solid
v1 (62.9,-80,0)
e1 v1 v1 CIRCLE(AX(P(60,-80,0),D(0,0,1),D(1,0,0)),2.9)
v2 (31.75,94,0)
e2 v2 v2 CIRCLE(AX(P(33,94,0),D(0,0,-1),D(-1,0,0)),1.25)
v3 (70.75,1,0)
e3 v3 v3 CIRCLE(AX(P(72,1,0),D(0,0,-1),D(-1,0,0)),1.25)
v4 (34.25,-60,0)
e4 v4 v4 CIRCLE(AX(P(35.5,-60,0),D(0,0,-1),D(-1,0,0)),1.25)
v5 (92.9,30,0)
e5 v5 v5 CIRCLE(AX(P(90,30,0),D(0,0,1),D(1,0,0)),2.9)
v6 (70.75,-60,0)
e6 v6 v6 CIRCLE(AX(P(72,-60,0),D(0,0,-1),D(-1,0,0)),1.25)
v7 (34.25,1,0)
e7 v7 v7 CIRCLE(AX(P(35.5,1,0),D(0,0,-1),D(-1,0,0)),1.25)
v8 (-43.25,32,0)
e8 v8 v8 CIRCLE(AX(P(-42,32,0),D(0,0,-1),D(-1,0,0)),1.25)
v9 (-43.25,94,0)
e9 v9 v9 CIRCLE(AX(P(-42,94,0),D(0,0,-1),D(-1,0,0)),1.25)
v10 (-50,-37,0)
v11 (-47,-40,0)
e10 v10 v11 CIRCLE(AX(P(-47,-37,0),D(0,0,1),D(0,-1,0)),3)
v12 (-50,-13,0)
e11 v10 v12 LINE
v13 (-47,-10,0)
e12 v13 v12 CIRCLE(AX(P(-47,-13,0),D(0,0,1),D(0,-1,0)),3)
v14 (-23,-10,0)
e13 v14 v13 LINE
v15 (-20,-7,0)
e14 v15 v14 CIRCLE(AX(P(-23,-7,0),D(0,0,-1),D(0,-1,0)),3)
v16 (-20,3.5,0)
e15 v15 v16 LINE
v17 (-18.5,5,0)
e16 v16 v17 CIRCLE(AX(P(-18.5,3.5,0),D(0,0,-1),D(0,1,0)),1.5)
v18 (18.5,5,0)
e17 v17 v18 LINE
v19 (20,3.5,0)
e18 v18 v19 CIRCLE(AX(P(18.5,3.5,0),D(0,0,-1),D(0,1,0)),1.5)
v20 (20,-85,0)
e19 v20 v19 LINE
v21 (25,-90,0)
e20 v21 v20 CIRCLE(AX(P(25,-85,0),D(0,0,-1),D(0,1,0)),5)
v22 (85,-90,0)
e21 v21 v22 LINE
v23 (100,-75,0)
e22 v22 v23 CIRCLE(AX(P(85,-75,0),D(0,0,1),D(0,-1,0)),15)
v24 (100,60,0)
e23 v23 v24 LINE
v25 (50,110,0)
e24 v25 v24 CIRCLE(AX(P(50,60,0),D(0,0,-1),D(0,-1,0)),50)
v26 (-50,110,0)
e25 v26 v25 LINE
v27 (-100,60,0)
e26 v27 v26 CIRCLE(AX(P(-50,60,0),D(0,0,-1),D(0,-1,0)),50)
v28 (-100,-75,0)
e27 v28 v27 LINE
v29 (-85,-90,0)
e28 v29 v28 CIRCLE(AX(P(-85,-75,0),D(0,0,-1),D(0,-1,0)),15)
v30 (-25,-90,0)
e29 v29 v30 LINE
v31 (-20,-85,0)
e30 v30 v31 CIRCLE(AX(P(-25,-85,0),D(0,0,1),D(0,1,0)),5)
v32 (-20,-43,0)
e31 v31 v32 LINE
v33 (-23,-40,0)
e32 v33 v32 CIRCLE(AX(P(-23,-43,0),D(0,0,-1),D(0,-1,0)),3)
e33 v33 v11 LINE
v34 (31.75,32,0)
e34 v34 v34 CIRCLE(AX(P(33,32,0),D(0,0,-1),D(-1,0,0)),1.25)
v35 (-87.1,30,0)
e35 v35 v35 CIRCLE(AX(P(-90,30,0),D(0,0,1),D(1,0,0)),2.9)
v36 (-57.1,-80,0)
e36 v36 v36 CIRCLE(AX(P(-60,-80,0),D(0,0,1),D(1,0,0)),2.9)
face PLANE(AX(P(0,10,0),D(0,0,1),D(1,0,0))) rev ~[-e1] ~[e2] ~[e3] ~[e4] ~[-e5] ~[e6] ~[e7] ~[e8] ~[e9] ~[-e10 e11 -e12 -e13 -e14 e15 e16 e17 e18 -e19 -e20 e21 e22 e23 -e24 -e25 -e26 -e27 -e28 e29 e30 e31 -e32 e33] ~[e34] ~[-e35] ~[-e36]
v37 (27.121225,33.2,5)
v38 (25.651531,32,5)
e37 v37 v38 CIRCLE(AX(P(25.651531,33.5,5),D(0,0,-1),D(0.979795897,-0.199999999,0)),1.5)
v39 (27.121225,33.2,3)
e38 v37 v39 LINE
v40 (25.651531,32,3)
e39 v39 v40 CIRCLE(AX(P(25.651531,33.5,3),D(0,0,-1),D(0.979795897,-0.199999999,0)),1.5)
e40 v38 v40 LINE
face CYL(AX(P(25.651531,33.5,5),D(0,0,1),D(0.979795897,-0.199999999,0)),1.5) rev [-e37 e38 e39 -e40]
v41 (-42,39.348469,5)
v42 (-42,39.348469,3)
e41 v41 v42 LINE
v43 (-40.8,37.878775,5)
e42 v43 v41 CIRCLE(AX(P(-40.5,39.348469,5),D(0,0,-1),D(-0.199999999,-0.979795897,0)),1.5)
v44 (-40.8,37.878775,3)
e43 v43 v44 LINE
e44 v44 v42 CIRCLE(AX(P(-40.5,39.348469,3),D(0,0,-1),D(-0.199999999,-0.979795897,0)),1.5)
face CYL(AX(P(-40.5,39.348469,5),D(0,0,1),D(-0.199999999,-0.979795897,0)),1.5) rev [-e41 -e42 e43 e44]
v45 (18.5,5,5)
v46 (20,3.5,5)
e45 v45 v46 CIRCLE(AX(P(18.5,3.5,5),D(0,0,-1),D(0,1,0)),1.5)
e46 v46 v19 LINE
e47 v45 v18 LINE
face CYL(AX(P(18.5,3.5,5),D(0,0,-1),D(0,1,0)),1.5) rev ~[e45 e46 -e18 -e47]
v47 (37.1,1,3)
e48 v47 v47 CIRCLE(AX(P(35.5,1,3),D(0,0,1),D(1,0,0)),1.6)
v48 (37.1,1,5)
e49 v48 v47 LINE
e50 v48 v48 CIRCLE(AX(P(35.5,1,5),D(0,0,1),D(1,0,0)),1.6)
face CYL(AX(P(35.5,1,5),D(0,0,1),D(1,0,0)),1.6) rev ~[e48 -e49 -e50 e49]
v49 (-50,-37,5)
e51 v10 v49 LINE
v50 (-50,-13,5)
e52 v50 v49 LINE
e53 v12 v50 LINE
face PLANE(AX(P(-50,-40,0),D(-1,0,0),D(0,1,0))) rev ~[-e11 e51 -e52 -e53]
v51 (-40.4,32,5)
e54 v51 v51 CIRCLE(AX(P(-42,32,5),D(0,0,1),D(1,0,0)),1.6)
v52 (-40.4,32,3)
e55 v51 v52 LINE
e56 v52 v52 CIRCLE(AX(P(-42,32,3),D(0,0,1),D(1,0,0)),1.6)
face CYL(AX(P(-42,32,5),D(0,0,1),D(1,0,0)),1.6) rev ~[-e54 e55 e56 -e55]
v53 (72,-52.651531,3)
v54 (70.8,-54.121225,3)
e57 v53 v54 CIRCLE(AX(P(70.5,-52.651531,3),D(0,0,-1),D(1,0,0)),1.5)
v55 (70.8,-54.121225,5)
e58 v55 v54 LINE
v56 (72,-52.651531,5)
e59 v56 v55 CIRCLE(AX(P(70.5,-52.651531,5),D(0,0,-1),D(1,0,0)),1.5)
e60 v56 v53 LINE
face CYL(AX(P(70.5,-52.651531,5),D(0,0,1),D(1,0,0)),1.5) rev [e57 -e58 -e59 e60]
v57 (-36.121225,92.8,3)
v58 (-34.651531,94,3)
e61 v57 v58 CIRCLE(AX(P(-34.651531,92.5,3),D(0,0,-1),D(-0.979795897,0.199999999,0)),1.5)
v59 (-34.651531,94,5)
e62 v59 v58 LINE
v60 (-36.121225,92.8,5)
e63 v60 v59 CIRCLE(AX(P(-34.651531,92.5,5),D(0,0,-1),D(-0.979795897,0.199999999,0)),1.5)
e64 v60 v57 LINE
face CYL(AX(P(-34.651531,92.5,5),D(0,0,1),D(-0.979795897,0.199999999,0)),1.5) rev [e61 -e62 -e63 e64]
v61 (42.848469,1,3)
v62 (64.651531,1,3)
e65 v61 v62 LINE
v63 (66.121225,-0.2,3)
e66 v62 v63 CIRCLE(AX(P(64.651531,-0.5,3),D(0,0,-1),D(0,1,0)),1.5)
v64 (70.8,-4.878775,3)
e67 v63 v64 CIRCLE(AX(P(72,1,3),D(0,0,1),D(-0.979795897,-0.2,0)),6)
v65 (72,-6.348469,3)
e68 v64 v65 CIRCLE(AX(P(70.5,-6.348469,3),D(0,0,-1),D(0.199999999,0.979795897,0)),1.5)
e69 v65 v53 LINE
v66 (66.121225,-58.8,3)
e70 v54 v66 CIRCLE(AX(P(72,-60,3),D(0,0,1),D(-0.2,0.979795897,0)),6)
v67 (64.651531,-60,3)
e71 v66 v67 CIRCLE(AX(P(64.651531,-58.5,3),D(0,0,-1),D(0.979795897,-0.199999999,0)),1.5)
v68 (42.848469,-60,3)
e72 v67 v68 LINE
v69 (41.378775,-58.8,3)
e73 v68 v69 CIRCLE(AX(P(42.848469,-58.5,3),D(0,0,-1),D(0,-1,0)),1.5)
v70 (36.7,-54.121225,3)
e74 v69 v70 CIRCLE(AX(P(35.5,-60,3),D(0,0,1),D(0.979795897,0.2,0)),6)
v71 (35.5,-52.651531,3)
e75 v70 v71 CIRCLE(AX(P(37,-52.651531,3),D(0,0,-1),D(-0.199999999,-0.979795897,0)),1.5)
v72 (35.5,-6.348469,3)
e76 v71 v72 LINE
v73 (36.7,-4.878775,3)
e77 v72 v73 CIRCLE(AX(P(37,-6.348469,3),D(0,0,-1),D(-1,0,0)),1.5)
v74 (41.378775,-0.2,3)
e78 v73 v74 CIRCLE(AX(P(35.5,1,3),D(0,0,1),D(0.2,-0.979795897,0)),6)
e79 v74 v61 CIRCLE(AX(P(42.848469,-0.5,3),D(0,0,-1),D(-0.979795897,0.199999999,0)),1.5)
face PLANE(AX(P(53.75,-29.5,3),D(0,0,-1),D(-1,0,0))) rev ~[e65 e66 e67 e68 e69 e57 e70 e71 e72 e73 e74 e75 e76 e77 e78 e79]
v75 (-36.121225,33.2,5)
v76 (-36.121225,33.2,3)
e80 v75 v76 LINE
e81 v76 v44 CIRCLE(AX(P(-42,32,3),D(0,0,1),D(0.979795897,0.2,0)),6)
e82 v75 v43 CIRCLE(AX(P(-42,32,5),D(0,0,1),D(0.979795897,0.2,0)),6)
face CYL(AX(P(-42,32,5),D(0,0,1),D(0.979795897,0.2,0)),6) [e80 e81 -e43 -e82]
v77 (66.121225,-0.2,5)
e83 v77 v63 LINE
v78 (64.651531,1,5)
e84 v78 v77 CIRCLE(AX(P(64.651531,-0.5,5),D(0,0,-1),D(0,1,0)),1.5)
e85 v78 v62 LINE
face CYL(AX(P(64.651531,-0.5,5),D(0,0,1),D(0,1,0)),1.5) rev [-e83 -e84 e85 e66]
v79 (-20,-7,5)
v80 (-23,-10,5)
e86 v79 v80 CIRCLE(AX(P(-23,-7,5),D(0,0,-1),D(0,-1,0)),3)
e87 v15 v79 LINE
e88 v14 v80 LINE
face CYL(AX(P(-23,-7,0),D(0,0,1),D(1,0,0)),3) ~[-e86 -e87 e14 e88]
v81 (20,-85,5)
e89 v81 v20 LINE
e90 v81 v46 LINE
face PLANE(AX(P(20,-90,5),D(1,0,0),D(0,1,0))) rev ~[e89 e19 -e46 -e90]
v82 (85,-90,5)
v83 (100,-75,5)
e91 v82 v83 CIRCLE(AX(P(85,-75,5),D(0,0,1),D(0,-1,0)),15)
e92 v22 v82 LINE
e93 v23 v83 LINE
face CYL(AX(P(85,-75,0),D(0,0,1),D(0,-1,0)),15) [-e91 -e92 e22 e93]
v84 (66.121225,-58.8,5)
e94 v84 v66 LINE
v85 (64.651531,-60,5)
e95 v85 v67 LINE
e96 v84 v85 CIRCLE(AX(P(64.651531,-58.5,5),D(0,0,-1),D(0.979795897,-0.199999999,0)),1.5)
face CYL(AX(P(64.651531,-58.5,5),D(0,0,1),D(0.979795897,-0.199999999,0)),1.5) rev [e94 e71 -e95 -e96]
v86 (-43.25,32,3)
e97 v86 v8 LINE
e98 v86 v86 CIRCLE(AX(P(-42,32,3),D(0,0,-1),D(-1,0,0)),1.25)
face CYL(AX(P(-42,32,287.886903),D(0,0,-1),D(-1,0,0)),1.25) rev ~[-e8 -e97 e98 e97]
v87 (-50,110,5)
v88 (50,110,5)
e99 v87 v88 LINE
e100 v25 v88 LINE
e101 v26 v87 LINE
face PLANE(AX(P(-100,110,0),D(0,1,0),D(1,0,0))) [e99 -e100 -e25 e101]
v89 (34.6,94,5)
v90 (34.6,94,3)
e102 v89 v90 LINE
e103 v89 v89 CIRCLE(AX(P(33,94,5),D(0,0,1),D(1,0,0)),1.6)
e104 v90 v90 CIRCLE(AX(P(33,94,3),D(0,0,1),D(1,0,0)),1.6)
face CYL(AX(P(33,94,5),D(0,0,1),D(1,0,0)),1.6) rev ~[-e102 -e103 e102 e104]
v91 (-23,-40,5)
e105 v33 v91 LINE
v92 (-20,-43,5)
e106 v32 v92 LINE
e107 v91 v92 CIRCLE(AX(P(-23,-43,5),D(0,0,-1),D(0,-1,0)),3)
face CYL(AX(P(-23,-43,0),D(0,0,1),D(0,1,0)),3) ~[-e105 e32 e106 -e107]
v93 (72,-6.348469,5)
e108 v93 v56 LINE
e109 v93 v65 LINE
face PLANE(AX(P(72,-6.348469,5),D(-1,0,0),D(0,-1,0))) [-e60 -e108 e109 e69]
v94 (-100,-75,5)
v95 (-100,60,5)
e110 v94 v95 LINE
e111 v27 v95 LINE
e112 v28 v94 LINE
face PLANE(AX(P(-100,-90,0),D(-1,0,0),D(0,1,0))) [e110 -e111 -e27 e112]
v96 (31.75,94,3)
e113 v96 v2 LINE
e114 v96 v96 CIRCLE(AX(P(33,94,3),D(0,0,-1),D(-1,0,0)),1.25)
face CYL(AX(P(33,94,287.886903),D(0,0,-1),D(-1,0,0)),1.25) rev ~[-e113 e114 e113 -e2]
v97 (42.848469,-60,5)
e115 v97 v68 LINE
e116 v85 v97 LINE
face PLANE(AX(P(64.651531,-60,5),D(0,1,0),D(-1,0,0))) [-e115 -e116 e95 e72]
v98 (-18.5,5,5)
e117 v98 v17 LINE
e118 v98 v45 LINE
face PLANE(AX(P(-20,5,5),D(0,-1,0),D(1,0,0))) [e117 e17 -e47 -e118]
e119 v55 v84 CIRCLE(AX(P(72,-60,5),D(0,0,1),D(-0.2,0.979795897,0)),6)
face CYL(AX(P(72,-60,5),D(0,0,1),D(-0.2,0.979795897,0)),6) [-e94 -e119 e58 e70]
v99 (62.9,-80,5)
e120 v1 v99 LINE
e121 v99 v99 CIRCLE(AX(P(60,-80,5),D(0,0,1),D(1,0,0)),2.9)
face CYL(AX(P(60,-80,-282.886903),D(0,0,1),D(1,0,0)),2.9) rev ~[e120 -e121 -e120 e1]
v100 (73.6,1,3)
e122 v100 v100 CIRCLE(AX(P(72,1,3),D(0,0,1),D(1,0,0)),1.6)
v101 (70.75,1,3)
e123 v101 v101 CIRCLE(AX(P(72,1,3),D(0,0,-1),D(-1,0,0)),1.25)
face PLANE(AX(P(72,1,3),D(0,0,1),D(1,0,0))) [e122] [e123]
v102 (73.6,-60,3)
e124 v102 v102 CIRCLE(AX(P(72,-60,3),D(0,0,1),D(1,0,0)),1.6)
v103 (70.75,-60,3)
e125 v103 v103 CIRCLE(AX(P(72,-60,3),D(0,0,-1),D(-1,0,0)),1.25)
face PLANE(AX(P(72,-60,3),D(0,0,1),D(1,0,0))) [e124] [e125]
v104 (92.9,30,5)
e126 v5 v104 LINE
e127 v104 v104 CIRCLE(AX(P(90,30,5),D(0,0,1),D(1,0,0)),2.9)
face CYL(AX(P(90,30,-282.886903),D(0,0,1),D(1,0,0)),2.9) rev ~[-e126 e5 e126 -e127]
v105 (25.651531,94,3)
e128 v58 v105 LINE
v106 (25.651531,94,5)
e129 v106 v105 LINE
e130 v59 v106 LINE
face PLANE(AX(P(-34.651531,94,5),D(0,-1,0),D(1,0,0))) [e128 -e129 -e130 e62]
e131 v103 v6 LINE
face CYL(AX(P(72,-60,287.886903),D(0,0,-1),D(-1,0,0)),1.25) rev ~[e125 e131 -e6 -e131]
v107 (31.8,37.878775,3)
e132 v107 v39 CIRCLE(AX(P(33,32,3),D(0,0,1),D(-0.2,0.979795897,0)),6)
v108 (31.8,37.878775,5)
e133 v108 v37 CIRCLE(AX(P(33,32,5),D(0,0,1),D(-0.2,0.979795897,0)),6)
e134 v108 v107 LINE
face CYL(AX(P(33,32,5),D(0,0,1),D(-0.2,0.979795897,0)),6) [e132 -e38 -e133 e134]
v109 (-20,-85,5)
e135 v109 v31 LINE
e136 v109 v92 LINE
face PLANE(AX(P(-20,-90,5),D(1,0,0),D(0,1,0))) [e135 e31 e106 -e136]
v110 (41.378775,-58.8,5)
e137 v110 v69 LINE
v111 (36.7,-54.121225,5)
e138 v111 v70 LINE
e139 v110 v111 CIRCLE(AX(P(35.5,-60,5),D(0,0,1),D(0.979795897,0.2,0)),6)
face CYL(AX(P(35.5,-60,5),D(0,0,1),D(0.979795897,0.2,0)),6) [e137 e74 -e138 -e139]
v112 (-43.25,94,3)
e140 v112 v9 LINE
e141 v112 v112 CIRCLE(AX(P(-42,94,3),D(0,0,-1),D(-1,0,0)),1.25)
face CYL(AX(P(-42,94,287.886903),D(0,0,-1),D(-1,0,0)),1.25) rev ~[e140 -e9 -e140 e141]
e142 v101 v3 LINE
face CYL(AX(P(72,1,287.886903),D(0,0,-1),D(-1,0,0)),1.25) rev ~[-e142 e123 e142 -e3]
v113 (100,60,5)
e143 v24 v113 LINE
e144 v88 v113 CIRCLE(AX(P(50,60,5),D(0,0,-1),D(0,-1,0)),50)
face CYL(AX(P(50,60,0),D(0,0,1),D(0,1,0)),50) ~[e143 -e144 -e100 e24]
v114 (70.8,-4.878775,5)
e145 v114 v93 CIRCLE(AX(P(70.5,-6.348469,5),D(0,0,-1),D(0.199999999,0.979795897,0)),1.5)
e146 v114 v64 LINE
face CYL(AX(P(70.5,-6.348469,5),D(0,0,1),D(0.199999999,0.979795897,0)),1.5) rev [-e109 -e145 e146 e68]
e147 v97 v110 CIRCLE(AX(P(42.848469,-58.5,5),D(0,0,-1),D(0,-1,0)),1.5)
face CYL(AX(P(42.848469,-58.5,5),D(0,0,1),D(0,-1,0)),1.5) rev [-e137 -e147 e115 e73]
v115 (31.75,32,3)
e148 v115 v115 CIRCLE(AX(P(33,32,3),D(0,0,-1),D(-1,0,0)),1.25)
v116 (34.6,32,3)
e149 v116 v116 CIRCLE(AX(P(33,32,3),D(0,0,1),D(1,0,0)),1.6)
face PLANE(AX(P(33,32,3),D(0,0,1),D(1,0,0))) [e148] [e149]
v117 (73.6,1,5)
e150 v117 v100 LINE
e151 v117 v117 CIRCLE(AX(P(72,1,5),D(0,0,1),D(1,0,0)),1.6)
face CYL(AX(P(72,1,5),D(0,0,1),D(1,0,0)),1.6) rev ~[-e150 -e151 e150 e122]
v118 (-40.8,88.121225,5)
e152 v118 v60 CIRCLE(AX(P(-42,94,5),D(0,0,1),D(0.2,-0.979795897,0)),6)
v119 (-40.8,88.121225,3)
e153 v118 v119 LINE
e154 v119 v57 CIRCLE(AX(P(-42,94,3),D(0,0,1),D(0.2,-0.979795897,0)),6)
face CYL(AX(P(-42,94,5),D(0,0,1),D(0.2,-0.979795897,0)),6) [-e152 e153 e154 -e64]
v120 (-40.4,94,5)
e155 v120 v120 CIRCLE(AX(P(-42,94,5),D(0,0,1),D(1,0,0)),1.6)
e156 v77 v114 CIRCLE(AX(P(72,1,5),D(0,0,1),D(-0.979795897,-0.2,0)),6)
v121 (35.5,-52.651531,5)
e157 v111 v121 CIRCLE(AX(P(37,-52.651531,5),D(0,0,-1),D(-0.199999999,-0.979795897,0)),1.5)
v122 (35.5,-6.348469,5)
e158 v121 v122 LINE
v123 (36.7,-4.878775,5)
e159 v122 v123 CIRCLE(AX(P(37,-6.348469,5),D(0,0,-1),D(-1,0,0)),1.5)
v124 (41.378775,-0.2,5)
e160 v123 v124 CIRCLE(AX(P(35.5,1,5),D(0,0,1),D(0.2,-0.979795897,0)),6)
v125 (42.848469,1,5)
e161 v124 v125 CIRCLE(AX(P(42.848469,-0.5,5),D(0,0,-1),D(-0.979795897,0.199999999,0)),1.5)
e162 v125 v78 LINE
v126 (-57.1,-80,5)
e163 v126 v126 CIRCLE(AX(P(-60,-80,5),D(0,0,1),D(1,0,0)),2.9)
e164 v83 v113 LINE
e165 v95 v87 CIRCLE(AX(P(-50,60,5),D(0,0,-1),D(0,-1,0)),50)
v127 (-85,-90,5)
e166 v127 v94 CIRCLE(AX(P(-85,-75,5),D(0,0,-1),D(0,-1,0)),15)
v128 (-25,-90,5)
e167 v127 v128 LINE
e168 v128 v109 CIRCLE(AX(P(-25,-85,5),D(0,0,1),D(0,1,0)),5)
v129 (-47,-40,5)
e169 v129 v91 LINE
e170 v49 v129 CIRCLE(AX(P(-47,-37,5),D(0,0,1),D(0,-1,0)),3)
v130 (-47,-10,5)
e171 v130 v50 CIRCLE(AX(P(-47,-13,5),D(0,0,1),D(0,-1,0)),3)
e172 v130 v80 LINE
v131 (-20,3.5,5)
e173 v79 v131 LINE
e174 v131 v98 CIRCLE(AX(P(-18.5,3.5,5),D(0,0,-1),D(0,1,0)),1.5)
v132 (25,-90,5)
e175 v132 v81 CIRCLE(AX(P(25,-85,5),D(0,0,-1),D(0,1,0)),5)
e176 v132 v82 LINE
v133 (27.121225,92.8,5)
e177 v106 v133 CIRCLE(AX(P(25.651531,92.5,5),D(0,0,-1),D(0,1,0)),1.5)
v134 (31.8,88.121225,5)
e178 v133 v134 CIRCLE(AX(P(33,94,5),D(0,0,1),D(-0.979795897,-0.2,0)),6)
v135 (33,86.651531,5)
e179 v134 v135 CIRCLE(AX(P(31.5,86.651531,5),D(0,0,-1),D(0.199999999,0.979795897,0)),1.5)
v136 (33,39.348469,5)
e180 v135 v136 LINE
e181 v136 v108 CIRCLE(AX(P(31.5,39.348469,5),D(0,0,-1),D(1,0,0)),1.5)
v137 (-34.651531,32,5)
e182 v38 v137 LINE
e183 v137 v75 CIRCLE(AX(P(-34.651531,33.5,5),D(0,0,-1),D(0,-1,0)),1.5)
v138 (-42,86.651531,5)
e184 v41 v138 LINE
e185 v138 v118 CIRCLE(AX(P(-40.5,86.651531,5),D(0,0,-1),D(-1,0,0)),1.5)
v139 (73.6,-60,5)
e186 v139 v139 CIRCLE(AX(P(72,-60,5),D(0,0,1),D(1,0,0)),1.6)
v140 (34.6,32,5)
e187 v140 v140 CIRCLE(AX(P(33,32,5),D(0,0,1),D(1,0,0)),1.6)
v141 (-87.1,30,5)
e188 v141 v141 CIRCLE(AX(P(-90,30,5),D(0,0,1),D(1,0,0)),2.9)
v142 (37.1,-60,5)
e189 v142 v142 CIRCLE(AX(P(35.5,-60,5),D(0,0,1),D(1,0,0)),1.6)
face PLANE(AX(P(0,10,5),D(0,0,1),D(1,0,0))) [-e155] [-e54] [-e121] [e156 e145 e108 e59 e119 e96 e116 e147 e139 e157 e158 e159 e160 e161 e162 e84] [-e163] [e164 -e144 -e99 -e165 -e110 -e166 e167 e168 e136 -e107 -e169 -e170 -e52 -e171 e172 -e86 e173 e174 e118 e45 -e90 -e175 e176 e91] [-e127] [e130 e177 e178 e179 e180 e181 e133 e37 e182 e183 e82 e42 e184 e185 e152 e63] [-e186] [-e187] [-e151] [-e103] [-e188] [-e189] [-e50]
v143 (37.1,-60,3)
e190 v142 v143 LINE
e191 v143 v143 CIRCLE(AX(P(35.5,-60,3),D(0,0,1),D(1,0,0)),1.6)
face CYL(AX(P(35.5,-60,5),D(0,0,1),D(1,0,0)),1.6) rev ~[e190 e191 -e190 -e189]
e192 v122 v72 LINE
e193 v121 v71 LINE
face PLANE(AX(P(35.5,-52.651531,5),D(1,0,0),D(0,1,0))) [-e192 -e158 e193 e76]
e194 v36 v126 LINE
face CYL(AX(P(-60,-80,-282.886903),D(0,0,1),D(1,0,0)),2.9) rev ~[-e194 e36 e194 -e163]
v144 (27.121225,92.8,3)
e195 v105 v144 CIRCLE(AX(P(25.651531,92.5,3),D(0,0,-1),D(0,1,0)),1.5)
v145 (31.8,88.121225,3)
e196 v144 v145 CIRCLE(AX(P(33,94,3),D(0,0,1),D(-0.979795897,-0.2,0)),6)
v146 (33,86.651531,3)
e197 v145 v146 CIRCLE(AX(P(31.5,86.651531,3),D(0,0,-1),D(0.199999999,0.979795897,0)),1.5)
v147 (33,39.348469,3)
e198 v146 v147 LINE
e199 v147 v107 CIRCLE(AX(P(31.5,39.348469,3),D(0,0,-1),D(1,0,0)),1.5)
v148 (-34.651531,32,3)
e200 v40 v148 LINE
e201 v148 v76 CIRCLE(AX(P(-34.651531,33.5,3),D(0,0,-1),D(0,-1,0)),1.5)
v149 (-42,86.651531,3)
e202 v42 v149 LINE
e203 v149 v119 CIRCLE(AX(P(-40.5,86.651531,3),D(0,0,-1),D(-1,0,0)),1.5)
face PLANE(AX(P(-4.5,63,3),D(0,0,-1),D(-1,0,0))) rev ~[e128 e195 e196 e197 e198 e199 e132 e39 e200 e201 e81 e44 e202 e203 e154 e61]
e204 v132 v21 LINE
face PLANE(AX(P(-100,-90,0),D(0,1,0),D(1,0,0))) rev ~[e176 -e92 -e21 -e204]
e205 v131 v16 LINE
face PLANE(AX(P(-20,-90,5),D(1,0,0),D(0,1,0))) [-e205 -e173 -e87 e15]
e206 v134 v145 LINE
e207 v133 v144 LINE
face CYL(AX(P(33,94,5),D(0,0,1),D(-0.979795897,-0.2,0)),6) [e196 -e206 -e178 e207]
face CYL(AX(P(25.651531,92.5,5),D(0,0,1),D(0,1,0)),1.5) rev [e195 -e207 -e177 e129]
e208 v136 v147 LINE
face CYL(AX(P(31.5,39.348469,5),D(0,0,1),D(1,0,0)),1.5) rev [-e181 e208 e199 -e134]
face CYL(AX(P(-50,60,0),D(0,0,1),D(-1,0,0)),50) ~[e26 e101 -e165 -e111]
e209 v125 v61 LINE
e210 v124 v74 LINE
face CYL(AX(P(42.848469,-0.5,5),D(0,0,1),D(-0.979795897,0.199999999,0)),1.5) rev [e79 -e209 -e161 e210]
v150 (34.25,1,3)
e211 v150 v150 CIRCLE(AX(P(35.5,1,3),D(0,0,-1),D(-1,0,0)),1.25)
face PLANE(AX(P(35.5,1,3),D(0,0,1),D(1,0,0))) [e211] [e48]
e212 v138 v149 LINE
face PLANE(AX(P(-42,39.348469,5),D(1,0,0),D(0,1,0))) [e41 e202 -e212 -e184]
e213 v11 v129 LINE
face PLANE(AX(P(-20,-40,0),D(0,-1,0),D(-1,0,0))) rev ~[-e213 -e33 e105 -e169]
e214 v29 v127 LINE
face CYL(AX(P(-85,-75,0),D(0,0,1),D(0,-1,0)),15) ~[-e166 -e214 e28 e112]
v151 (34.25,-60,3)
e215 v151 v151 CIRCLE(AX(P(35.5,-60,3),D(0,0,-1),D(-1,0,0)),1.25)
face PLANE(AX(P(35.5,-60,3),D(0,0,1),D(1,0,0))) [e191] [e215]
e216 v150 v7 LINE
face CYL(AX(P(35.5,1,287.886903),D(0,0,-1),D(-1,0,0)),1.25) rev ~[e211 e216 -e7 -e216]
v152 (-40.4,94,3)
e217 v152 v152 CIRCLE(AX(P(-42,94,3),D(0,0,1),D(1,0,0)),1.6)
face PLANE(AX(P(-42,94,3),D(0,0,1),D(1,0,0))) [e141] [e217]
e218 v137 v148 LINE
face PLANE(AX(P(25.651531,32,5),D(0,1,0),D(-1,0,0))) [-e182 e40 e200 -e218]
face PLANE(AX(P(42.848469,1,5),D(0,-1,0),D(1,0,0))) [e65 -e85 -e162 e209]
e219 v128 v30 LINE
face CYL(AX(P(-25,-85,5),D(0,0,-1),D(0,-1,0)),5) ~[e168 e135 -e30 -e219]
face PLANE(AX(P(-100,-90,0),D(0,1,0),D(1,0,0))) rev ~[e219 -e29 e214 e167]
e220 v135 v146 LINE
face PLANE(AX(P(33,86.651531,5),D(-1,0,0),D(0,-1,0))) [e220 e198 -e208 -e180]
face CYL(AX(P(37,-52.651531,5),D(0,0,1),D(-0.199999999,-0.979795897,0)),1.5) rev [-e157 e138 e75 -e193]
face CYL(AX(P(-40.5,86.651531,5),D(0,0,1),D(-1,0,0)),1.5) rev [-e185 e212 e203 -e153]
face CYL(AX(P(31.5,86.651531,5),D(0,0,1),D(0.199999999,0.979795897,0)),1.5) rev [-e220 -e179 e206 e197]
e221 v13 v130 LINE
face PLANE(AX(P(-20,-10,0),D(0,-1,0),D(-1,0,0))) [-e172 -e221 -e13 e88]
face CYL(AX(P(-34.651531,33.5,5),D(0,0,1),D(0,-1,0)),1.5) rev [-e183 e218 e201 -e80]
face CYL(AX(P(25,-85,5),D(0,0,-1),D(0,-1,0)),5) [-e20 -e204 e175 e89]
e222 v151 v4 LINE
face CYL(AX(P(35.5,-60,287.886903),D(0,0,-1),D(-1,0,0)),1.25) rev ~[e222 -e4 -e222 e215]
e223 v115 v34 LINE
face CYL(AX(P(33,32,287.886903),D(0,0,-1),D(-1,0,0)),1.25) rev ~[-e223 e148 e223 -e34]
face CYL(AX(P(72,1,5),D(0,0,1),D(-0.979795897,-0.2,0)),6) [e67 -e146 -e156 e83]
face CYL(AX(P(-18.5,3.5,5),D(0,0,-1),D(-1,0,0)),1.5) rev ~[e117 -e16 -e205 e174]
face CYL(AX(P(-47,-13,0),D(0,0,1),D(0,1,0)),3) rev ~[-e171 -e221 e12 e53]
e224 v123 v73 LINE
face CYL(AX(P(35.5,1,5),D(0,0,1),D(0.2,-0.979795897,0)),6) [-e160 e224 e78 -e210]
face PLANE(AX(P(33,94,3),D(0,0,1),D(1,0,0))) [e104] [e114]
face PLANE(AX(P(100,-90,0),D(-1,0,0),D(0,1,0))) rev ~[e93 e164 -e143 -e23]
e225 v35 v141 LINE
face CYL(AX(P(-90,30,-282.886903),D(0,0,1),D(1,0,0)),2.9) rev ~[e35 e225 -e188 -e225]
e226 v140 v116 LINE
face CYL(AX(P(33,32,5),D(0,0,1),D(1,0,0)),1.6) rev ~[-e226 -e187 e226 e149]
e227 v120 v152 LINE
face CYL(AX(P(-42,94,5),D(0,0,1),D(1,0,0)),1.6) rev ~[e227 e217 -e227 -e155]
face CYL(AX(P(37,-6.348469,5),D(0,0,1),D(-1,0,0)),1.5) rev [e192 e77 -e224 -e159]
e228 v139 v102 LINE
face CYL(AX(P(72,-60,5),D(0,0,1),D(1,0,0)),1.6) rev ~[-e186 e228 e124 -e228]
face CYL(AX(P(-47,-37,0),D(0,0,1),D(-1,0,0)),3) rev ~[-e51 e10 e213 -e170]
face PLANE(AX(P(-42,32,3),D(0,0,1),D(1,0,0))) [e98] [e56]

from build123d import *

# Parameters (mm, degrees)
SKETCH_1_W          = 200
SKETCH_1_H          = 200
EXTRUDE_1_DEPTH     = 5
SKETCH_2_W          = 40
SKETCH_2_H          = 95
CUT_EXTRUDE_1_DEPTH = 149.744747806
FILLET_1_R          = 50
FILLET_2_R          = 1.5
SKETCH_3_W          = 30
SKETCH_3_H          = 30
CUT_EXTRUDE_2_DEPTH = 10
FILLET_3_R          = 3
M3X0_5_2_D          = 2.5
M3X0_5_1_D          = 2.5
FILLET_4_R          = 15
FILLET_5_R          = 5
HOLE_WIZARD_M5_1_D  = 5.8
SKETCH_4_R          = 1.6
CUT_EXTRUDE_3_DEPTH = 2
SKETCH_7_R          = 1.6
CUT_EXTRUDE_4_DEPTH = 2


with BuildPart() as part:
    # ｽｹｯﾁ1 → ﾎﾞｽ - 押し出し1 (new body)
    with BuildSketch(Plane.XY):
        with Locations((0, 10)):
            Rectangle(SKETCH_1_W, SKETCH_1_H)
    extrude(amount=EXTRUDE_1_DEPTH)

    # ｽｹｯﾁ2 → ｶｯﾄ - 押し出し1 (cut, through all)
    with BuildSketch(Plane.XY.offset(5)):
        with Locations((0, -42.5)):
            Rectangle(SKETCH_2_W, SKETCH_2_H)
    extrude(amount=-CUT_EXTRUDE_1_DEPTH, mode=Mode.SUBTRACT)

    # ﾌｨﾚｯﾄ1
    fillet_1_edges = [part.edges().sort_by_distance(p)[0] for p in [
        (-100, 110, 2.5),
        (100, 110, 2.5),
    ]]
    fillet(fillet_1_edges, radius=FILLET_1_R)

    # ﾌｨﾚｯﾄ2
    fillet_2_edges = [part.edges().sort_by_distance(p)[0] for p in [
        (-20, 5, 2.5),
        (20, 5, 2.5),
    ]]
    fillet(fillet_2_edges, radius=FILLET_2_R)

    # ｽｹｯﾁ3 → ｶｯﾄ - 押し出し2 (cut)
    with BuildSketch(Plane(origin=(0, 0, 0), x_dir=(-1, 0, 0), z_dir=(0, 0, -1))):
        with Locations((35, -25)):
            Rectangle(SKETCH_3_W, SKETCH_3_H)
    extrude(amount=-CUT_EXTRUDE_2_DEPTH, mode=Mode.SUBTRACT)

    # ﾌｨﾚｯﾄ3
    fillet_3_edges = [part.edges().sort_by_distance(p)[0] for p in [
        (-20, -40, 2.5),
        (-20, -10, 2.5),
        (-50, -10, 2.5),
        (-50, -40, 2.5),
    ]]
    fillet(fillet_3_edges, radius=FILLET_3_R)

    # M3x0.5 ねじ穴用ねじ下穴ﾄﾞﾘﾙ2 (through all)
    with Locations(Plane.XY.offset(5)):
        with Locations((-42, 94), (33, 94), (-42, 32), (33, 32)):
            Hole(M3X0_5_2_D / 2)

    # M3x0.5 ねじ穴用ねじ下穴ﾄﾞﾘﾙ1 (through all)
    with Locations(Plane.XY.offset(5)):
        with Locations((35.5, 1), (72, 1), (35.5, -60), (72, -60)):
            Hole(M3X0_5_1_D / 2)

    # ﾌｨﾚｯﾄ4
    fillet_4_edges = [part.edges().sort_by_distance(p)[0] for p in [
        (100, -90, 2.5),
        (-100, -90, 2.5),
    ]]
    fillet(fillet_4_edges, radius=FILLET_4_R)

    # ﾌｨﾚｯﾄ5
    fillet_5_edges = [part.edges().sort_by_distance(p)[0] for p in [
        (-20, -90, 2.5),
        (20, -90, 2.5),
    ]]
    fillet(fillet_5_edges, radius=FILLET_5_R)

    # M5 すきま穴1 (through all)
    with Locations(Plane(origin=(0, 0, 0), x_dir=(-1, 0, 0), z_dir=(0, 0, -1))):
        with Locations((-60, -80), (60, -80), (-90, 30), (90, 30)):
            Hole(HOLE_WIZARD_M5_1_D / 2)

    # ｽｹｯﾁ4 → ｶｯﾄ - 押し出し3 (cut)
    with BuildSketch(Plane.XY.offset(5)):
        with Locations((-42, 94)):
            Circle(SKETCH_4_R)
        with Locations((33, 94)):
            Circle(SKETCH_4_R)
        with Locations((-42, 32)):
            Circle(SKETCH_4_R)
        with Locations((33, 32)):
            Circle(SKETCH_4_R)
        with BuildLine():
            Line((-34.651530772, 94), (25.651530772, 94))
            ThreePointArc((25.651530772, 94), (26.60021407, 93.661895004), (27.121224617, 92.8))
            ThreePointArc((27.121224617, 92.8), (28.757359313, 89.757359313), (31.8, 88.121224617))
            ThreePointArc((31.8, 88.121224617), (32.661895004, 87.60021407), (33, 86.651530772))
            Line((33, 86.651530772), (33, 39.348469228))
            ThreePointArc((33, 39.348469228), (32.661895004, 38.39978593), (31.8, 37.878775383))
            ThreePointArc((31.8, 37.878775383), (28.757359313, 36.242640687), (27.121224617, 33.2))
            ThreePointArc((27.121224617, 33.2), (26.60021407, 32.338104996), (25.651530772, 32))
            Line((25.651530772, 32), (-34.651530772, 32))
            ThreePointArc((-34.651530772, 32), (-35.60021407, 32.338104996), (-36.121224617, 33.2))
            ThreePointArc((-36.121224617, 33.2), (-37.757359313, 36.242640687), (-40.8, 37.878775383))
            ThreePointArc((-40.8, 37.878775383), (-41.661895004, 38.39978593), (-42, 39.348469228))
            Line((-42, 39.348469228), (-42, 86.651530772))
            ThreePointArc((-42, 86.651530772), (-41.661895004, 87.60021407), (-40.8, 88.121224617))
            ThreePointArc((-40.8, 88.121224617), (-37.757359313, 89.757359313), (-36.121224617, 92.8))
            ThreePointArc((-36.121224617, 92.8), (-35.60021407, 93.661895004), (-34.651530772, 94))
        make_face()
    extrude(amount=-CUT_EXTRUDE_3_DEPTH, mode=Mode.SUBTRACT)

    # ｽｹｯﾁ7 → ｶｯﾄ - 押し出し4 (cut)
    with BuildSketch(Plane.XY.offset(5)):
        with Locations((35.5, 1)):
            Circle(SKETCH_7_R)
        with Locations((72, 1)):
            Circle(SKETCH_7_R)
        with Locations((35.5, -60)):
            Circle(SKETCH_7_R)
        with Locations((72, -60)):
            Circle(SKETCH_7_R)
        with BuildLine():
            Line((64.651530772, -60), (42.848469228, -60))
            ThreePointArc((42.848469228, -60), (41.89978593, -59.661895004), (41.378775383, -58.8))
            ThreePointArc((41.378775383, -58.8), (39.742640687, -55.757359313), (36.7, -54.121224617))
            ThreePointArc((36.7, -54.121224617), (35.838104996, -53.60021407), (35.5, -52.651530772))
            Line((35.5, -52.651530772), (35.5, -6.348469228))
            ThreePointArc((35.5, -6.348469228), (35.838104996, -5.39978593), (36.7, -4.878775383))
            ThreePointArc((36.7, -4.878775383), (39.742640687, -3.242640687), (41.378775383, -0.2))
            ThreePointArc((41.378775383, -0.2), (41.89978593, 0.661895004), (42.848469228, 1))
            Line((42.848469228, 1), (64.651530772, 1))
            ThreePointArc((64.651530772, 1), (65.60021407, 0.661895004), (66.121224617, -0.2))
            ThreePointArc((66.121224617, -0.2), (67.757359313, -3.242640687), (70.8, -4.878775383))
            ThreePointArc((70.8, -4.878775383), (71.661895004, -5.39978593), (72, -6.348469228))
            Line((72, -6.348469228), (72, -52.651530772))
            ThreePointArc((72, -52.651530772), (71.661895004, -53.60021407), (70.8, -54.121224617))
            ThreePointArc((70.8, -54.121224617), (67.757359313, -55.757359313), (66.121224617, -58.8))
            ThreePointArc((66.121224617, -58.8), (65.60021407, -59.661895004), (64.651530772, -60))
        make_face()
    extrude(amount=-CUT_EXTRUDE_4_DEPTH, mode=Mode.SUBTRACT)


solid = part.part
